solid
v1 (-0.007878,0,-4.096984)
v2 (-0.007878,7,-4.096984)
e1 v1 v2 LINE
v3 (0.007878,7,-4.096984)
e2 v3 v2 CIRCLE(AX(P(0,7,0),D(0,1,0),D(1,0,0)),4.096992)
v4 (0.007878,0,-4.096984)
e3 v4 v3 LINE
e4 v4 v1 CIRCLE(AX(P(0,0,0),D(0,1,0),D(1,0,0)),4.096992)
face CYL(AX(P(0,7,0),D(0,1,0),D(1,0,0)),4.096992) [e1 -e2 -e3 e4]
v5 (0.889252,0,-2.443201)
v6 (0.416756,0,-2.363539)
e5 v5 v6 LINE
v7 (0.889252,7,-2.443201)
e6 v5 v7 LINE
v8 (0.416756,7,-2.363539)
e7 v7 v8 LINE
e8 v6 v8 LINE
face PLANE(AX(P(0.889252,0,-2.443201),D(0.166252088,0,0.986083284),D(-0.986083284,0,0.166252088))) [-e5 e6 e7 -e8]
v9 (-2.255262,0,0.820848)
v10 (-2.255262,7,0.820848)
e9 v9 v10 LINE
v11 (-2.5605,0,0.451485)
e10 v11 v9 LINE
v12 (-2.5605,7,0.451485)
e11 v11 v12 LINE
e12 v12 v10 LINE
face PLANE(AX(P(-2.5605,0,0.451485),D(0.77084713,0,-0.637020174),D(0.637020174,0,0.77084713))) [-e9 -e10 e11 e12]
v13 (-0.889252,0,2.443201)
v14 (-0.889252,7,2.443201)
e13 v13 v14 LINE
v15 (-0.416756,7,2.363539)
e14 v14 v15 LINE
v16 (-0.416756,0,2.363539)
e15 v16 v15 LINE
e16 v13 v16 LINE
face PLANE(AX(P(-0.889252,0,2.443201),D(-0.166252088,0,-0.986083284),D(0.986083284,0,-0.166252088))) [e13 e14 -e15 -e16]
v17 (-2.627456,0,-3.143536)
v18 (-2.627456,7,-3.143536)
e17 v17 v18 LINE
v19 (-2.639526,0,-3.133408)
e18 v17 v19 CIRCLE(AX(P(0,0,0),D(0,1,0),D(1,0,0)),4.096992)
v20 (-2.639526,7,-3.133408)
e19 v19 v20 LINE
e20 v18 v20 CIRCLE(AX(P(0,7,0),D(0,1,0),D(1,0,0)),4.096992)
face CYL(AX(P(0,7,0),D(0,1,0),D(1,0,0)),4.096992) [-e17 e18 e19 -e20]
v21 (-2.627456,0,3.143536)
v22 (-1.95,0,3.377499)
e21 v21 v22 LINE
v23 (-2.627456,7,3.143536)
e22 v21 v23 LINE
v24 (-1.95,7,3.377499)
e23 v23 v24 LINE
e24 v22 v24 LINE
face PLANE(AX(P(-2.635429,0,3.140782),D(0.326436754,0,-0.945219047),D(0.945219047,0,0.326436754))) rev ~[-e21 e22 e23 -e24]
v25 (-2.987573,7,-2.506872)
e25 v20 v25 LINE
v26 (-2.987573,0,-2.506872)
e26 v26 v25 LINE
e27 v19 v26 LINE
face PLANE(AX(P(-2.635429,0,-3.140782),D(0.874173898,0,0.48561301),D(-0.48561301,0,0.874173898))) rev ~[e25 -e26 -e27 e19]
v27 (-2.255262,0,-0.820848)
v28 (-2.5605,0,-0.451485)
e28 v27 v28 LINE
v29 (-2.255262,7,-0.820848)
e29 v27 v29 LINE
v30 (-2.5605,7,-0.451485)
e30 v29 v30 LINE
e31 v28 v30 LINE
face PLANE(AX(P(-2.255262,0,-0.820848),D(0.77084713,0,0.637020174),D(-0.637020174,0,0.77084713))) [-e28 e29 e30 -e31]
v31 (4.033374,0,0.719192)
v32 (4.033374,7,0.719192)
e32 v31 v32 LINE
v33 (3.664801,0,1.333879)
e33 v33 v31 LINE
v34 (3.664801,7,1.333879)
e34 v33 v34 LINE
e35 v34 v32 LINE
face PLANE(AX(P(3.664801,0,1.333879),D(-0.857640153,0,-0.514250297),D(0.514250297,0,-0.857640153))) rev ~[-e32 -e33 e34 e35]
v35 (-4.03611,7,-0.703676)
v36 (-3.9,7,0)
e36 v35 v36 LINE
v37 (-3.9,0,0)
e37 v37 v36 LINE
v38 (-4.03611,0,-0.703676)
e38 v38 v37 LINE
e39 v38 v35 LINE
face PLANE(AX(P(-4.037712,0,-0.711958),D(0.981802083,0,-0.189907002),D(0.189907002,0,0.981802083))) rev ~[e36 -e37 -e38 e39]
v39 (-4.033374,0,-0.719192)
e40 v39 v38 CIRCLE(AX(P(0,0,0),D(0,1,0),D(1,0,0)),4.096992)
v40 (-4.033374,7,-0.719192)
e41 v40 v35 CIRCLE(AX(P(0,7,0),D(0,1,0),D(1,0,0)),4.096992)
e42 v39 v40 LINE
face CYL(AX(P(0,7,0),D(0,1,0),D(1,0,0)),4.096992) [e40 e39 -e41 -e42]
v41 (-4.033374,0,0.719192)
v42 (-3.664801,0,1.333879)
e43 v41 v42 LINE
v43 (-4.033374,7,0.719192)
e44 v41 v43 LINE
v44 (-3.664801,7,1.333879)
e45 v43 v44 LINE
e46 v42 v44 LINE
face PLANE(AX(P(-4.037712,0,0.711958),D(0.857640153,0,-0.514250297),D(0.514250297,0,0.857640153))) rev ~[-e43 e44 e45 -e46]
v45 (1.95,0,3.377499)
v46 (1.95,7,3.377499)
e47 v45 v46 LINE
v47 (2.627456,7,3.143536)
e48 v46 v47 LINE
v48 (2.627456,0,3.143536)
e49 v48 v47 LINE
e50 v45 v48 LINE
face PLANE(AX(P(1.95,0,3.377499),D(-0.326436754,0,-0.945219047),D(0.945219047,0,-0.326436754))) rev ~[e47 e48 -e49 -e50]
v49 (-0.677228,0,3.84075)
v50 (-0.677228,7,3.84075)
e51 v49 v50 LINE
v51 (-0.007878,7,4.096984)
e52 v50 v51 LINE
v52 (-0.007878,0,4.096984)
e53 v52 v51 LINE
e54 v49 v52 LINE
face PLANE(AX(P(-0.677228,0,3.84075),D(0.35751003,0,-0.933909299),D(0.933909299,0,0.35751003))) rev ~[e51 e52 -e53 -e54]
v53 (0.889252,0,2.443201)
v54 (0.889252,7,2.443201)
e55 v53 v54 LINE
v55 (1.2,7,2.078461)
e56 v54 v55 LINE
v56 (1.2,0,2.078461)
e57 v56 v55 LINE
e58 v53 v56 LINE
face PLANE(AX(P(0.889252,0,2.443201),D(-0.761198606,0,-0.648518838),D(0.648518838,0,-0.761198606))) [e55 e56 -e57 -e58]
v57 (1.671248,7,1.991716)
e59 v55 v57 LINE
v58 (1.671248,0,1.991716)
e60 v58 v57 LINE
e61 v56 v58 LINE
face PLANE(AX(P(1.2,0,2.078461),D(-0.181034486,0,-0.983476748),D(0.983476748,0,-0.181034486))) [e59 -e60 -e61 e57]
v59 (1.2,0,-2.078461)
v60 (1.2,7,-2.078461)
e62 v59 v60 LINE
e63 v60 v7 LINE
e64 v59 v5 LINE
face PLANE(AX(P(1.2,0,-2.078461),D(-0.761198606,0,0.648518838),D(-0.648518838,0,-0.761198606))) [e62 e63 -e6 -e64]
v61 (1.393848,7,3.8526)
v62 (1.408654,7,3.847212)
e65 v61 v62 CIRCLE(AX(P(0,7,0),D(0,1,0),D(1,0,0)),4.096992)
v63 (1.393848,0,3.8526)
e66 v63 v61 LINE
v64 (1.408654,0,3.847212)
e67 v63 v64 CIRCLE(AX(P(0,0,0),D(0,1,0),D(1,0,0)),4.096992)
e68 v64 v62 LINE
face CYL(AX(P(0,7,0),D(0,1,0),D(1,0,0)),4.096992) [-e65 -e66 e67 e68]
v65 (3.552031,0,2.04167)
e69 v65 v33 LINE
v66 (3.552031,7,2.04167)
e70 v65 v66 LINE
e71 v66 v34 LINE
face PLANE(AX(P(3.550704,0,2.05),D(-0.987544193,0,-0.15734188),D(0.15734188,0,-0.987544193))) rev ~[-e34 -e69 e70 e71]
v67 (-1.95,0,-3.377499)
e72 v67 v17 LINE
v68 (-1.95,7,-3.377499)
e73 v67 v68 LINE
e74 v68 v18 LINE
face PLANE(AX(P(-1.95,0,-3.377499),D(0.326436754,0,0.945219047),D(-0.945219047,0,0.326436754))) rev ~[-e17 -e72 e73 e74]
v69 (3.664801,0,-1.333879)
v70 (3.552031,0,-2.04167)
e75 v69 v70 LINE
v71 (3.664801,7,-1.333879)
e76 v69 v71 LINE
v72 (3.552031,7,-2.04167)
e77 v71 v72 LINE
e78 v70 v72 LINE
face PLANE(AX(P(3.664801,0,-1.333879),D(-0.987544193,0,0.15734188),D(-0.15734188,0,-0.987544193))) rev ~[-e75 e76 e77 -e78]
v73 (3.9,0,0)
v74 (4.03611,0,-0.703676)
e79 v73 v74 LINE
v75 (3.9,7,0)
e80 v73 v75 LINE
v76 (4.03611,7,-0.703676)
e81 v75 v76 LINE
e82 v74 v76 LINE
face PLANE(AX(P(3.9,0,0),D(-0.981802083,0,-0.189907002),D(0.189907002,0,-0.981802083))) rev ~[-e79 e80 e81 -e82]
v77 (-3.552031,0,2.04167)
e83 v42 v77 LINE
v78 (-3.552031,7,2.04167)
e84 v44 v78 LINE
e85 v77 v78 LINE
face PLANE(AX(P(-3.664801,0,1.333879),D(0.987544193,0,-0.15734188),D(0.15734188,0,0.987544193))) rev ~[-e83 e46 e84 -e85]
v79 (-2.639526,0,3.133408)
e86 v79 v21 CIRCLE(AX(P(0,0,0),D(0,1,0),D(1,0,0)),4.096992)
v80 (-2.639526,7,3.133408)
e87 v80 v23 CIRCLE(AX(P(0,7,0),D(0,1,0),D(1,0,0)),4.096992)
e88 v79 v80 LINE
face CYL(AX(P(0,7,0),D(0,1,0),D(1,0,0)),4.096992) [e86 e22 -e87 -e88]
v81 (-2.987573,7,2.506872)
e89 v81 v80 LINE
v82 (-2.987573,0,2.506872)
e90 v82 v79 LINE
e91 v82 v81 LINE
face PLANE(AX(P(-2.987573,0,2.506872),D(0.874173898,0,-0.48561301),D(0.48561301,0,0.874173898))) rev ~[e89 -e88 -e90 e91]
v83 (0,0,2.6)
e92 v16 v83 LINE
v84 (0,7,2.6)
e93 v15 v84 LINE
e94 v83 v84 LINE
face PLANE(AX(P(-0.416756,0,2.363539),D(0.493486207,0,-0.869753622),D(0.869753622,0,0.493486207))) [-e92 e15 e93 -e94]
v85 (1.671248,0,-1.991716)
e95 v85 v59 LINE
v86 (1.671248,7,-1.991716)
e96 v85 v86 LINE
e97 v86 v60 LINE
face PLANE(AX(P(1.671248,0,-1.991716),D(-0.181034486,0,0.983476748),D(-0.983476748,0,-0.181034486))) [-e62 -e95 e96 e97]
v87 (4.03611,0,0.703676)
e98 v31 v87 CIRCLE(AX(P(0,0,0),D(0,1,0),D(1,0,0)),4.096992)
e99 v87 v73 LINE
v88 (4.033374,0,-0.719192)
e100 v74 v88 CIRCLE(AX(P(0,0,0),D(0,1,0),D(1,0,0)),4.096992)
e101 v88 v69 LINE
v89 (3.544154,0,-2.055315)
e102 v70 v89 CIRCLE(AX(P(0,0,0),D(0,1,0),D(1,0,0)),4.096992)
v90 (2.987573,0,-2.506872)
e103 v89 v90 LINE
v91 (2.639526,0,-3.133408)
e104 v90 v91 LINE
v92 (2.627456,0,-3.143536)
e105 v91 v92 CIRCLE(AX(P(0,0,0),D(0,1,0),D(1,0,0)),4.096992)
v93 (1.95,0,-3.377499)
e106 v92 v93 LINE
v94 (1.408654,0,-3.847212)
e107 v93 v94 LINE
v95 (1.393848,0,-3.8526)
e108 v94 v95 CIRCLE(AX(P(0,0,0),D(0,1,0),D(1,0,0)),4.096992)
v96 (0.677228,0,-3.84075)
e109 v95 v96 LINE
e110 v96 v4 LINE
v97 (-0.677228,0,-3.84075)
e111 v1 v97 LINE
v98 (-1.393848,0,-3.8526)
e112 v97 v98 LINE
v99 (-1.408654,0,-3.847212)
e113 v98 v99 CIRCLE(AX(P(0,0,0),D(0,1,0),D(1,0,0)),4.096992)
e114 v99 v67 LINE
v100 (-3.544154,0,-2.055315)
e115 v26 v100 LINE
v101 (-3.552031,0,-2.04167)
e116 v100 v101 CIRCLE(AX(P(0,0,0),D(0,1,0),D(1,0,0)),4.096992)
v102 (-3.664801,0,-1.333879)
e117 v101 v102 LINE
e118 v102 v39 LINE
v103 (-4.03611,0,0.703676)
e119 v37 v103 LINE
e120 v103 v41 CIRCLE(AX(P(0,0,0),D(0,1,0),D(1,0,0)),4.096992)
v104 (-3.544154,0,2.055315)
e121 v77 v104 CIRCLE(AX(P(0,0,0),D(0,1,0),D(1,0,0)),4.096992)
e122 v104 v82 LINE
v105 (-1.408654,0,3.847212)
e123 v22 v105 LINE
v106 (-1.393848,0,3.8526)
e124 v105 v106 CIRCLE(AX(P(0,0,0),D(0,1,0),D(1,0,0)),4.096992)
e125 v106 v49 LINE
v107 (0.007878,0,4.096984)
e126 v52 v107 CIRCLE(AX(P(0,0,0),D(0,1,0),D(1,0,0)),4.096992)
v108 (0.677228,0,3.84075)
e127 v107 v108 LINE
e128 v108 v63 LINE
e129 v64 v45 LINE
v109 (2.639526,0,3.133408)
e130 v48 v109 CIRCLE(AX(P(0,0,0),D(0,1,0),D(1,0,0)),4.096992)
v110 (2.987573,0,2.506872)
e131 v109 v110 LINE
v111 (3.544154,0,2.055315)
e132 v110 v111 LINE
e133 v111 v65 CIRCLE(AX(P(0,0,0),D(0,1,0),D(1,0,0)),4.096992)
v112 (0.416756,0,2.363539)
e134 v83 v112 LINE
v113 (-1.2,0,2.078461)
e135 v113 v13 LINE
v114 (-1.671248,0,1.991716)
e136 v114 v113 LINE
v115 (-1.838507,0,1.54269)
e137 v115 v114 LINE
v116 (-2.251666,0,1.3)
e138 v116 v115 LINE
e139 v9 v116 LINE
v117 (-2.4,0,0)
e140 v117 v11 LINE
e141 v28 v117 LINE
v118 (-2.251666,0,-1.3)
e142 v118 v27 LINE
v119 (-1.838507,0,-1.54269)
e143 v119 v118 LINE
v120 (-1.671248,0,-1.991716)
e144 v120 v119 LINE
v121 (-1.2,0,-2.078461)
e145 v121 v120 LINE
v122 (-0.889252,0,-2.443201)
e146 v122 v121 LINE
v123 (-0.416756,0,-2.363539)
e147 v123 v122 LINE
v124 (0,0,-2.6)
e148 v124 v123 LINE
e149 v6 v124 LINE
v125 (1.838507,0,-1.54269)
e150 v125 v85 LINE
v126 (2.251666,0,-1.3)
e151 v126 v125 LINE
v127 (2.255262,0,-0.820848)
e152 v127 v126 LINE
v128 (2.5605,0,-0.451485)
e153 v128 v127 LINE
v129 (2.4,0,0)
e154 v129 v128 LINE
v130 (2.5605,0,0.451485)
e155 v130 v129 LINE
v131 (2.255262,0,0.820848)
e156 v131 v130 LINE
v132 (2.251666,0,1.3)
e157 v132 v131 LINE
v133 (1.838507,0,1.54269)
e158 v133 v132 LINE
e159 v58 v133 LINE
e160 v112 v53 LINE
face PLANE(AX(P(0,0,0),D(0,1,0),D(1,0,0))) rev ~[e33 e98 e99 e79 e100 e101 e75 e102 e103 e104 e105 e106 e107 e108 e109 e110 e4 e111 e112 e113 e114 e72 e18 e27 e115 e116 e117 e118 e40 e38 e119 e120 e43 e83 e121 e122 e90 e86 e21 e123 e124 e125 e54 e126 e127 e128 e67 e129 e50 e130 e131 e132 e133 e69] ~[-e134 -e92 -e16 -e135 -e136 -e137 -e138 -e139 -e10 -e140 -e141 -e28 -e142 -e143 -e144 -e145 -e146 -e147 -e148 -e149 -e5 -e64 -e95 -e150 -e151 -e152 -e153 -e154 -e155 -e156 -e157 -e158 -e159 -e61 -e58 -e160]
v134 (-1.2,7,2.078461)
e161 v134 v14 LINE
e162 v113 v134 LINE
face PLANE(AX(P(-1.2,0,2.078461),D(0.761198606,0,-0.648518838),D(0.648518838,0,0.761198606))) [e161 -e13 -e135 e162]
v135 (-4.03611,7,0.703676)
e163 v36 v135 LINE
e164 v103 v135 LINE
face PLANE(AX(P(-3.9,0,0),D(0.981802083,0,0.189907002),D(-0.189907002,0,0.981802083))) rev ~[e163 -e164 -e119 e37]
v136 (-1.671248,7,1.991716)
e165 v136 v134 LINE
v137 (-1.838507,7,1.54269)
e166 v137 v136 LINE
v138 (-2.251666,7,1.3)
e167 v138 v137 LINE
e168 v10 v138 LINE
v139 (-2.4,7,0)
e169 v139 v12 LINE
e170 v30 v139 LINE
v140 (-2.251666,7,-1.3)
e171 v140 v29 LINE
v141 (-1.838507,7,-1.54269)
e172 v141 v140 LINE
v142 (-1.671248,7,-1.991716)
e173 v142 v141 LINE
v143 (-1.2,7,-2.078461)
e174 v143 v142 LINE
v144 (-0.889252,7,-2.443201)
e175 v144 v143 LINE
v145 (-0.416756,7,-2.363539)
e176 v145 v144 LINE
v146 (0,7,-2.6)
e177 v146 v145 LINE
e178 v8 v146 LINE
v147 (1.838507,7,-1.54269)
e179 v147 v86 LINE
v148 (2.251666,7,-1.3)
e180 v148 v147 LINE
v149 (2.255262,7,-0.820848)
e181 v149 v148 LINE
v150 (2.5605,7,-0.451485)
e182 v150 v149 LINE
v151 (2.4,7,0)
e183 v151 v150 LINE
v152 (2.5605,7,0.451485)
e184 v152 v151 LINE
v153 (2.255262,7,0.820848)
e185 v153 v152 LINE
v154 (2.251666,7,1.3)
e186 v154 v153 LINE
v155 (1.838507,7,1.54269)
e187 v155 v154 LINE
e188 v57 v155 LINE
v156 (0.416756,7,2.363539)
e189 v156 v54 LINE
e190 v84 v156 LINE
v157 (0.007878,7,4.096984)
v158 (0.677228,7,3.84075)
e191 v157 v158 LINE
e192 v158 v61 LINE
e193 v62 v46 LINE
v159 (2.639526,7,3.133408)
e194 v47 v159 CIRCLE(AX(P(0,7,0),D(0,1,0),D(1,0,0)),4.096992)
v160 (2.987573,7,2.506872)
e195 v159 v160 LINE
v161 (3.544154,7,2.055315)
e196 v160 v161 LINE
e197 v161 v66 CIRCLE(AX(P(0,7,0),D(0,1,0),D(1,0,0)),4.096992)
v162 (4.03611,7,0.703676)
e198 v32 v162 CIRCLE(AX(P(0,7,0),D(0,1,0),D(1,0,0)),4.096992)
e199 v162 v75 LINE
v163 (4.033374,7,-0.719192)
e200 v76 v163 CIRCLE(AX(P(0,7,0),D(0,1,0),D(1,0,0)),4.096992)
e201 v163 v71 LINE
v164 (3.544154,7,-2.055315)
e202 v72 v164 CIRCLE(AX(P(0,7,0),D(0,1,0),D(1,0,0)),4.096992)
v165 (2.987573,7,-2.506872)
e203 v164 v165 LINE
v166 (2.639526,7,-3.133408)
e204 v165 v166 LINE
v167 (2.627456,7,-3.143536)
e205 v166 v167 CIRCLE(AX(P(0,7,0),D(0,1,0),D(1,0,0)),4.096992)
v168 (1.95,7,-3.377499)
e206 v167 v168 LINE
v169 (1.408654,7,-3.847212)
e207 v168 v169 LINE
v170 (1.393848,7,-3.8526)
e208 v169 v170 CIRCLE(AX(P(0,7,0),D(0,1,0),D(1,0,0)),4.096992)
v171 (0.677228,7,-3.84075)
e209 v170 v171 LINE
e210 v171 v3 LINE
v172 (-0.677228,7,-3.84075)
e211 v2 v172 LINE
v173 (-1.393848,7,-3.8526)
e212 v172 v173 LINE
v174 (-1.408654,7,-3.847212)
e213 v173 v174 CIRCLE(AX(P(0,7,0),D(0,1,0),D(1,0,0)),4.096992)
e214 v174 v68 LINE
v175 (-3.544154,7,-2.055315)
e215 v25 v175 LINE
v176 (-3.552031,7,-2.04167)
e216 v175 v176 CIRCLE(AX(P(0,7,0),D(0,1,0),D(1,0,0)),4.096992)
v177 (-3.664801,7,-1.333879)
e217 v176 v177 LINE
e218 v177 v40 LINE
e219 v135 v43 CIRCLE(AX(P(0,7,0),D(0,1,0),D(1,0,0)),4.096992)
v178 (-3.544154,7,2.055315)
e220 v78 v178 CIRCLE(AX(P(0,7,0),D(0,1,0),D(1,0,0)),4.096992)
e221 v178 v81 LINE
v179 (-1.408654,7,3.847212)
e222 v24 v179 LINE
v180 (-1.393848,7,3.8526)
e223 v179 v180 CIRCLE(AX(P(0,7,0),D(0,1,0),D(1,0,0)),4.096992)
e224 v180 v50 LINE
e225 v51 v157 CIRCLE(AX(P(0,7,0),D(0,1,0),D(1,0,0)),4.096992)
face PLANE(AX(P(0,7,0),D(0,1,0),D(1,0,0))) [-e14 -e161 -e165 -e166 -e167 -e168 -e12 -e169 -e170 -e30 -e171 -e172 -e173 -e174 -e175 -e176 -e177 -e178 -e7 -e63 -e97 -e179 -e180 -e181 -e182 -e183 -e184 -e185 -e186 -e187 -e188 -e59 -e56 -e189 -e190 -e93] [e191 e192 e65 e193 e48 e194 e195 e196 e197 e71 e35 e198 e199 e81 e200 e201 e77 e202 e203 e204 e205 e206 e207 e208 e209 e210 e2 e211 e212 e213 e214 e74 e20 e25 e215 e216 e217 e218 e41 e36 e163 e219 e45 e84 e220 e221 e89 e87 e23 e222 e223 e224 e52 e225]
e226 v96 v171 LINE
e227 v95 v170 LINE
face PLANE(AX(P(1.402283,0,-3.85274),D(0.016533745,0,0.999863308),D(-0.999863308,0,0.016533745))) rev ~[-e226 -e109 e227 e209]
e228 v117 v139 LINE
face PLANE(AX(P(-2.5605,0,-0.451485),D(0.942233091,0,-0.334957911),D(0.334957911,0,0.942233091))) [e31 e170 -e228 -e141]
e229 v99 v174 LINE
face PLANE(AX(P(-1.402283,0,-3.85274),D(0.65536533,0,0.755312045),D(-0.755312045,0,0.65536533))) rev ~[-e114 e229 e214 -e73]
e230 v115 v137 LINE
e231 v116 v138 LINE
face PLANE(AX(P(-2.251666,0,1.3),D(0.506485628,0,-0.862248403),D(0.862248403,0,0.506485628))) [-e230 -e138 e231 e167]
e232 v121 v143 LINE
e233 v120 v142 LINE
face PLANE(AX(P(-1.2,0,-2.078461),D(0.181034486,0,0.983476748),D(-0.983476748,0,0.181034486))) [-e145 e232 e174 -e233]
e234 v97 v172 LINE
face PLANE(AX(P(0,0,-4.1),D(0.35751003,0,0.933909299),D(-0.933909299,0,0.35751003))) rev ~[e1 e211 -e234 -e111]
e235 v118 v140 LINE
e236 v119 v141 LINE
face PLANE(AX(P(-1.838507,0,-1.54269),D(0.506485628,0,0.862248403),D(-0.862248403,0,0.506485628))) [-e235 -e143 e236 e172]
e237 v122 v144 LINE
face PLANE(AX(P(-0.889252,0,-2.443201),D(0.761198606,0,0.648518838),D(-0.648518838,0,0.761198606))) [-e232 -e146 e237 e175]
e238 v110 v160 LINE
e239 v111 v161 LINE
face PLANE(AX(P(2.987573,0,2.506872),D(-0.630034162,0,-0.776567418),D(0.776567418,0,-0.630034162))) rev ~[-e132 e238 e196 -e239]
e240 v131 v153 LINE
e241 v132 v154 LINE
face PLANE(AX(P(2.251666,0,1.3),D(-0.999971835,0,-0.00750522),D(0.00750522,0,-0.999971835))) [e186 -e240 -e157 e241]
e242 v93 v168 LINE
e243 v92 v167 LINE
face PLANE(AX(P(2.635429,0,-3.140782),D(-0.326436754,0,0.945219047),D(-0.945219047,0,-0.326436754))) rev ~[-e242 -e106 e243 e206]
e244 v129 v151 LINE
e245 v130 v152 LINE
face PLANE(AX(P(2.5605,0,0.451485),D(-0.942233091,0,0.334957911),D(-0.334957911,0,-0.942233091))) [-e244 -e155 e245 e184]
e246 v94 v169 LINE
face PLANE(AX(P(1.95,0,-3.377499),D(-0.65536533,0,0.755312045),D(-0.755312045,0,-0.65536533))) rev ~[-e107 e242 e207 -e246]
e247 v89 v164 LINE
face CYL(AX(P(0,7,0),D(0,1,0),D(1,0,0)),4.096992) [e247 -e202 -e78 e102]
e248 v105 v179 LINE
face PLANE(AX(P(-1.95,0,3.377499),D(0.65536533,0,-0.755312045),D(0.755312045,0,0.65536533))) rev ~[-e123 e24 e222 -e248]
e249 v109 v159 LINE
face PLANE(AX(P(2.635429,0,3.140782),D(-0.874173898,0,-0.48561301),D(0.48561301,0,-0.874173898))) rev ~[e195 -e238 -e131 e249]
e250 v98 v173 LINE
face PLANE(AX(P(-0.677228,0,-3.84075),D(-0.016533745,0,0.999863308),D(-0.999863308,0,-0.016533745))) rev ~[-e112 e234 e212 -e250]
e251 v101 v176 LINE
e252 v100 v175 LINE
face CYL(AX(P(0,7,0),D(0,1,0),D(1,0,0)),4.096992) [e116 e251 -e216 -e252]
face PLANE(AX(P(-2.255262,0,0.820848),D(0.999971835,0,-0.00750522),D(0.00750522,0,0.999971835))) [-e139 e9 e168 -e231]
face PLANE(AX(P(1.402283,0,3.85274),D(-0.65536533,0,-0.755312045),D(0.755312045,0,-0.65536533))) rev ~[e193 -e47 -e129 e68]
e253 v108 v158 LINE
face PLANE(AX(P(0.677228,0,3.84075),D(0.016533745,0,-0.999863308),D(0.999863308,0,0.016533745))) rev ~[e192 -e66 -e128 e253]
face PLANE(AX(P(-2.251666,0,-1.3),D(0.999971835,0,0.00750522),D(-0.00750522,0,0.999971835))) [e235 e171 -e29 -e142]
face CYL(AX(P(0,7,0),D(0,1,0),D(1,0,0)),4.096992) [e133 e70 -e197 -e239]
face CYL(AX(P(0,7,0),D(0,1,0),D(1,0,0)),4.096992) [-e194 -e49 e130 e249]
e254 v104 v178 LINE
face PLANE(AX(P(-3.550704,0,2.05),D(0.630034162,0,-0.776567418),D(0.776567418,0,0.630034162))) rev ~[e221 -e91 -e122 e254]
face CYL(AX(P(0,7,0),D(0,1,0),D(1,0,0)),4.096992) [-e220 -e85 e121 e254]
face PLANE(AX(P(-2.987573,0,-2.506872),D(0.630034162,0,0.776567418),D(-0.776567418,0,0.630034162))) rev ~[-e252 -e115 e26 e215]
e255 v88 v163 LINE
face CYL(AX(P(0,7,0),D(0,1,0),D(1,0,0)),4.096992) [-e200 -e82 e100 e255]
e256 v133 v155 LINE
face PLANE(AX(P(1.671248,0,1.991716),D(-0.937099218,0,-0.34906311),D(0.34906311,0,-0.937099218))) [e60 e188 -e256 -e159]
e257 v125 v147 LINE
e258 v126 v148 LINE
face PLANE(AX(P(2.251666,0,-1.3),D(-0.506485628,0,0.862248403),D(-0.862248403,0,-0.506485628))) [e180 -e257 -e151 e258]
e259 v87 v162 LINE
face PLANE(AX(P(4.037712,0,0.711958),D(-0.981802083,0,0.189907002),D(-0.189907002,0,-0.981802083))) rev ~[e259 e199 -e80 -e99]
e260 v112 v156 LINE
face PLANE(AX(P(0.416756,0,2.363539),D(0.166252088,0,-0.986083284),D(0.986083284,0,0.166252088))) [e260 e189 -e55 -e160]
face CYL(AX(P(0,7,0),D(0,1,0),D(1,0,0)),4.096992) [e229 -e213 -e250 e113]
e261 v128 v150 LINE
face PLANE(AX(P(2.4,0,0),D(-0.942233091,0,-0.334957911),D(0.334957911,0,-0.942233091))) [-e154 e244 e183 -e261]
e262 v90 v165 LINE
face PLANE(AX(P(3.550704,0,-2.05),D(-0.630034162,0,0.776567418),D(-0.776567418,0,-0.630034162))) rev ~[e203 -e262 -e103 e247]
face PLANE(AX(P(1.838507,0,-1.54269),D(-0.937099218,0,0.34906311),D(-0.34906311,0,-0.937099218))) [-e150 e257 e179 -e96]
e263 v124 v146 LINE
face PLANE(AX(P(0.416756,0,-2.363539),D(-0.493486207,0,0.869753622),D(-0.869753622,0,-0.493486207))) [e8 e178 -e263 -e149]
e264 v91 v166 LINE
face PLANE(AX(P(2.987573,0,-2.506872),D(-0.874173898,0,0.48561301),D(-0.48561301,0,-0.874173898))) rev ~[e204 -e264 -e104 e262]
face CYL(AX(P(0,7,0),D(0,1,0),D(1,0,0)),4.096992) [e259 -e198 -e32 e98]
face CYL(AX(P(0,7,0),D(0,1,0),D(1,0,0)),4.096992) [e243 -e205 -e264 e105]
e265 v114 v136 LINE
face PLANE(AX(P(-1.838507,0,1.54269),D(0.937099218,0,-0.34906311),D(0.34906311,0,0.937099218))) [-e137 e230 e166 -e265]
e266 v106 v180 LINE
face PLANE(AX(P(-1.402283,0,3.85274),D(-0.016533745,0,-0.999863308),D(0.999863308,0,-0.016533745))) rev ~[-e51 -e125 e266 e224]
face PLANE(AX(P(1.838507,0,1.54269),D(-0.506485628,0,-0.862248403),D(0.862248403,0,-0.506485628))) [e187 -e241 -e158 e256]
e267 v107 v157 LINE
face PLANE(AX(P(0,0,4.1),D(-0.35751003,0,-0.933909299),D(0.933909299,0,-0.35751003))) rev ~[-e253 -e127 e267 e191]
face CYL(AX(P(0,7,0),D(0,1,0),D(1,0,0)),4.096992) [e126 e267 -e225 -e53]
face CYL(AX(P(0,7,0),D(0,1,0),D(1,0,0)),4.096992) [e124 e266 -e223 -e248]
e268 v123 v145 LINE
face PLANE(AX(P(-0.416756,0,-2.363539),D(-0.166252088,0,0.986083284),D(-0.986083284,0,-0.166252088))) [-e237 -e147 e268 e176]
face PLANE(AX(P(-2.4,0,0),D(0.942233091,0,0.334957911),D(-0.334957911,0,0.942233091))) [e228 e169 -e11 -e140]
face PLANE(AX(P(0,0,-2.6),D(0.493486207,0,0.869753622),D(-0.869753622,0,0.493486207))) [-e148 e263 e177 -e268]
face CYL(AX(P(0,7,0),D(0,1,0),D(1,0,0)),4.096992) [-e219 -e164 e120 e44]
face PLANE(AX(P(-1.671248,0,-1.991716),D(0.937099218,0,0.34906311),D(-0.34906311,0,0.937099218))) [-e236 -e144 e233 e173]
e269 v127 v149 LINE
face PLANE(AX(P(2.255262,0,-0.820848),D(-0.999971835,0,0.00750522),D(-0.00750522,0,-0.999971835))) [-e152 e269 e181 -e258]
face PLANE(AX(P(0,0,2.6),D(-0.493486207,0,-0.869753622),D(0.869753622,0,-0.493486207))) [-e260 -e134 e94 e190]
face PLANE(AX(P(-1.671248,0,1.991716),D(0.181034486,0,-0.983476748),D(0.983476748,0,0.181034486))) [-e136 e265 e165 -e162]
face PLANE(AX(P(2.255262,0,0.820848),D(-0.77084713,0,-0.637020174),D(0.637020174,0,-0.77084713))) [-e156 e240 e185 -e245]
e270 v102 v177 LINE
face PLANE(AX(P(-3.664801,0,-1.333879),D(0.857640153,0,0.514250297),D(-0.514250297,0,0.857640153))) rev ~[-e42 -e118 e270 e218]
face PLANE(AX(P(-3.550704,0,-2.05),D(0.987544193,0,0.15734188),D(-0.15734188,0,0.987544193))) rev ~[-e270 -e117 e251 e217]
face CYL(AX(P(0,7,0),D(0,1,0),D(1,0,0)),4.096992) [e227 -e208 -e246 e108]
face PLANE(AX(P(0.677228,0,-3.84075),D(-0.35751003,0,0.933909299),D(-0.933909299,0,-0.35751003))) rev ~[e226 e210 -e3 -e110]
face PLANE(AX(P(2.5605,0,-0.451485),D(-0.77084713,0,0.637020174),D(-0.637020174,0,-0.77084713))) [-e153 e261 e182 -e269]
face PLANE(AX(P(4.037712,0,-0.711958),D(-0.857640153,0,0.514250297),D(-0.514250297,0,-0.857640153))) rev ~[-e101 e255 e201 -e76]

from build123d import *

# Parameters (mm, degrees)
BOSS_EXTRUDE1_DEPTH = 7
SKETCH2_R           = 5.515074568
SKETCH2_R_2         = 4.096991853
CUT_EXTRUDE1_DEPTH  = 10


with BuildPart() as part:
    # Sketch1 → Boss-Extrude1 (new body)
    with BuildSketch(Plane(origin=(0, 0, 0), x_dir=(1, 0, 0), z_dir=(0, 1, 0))):
        Polygon((0, 4.1), (-0.677227893, 3.840750237), (-1.402282588, 3.852739745), (-1.95, 3.377499075), (-2.6354292, 3.140782217), (-2.987573328, 2.506871678), (-3.550704156, 2.05), (-3.664801221, 1.333878559), (-4.037711787, 0.711957528), (-3.9, 0), (-4.037711787, -0.711957528), (-3.664801221, -1.333878559), (-3.550704156, -2.05), (-2.987573328, -2.506871678), (-2.6354292, -3.140782217), (-1.95, -3.377499075), (-1.402282588, -3.852739745), (-0.677227893, -3.840750237), (0, -4.1), (0.677227893, -3.840750237), (1.402282588, -3.852739745), (1.95, -3.377499075), (2.6354292, -3.140782217), (2.987573328, -2.506871678), (3.550704156, -2.05), (3.664801221, -1.333878559), (4.037711787, -0.711957528), (3.9, 0), (4.037711787, 0.711957528), (3.664801221, 1.333878559), (3.550704156, 2.05), (2.987573328, 2.506871678), (2.6354292, 3.140782217), (1.95, 3.377499075), (1.402282588, 3.852739745), (0.677227893, 3.840750237), align=None)
        Polygon((0, 2.6), (-0.416755626, 2.363538607), (-0.889252373, 2.443200814), (-1.2, 2.078460969), (-1.671247785, 1.991715552), (-1.838506663, 1.542690263), (-2.25166605, 1.3), (-2.25526229, 0.820848344), (-2.560500158, 0.451485262), (-2.4, 0), (-2.560500158, -0.451485262), (-2.25526229, -0.820848344), (-2.25166605, -1.3), (-1.838506663, -1.542690263), (-1.671247785, -1.991715552), (-1.2, -2.078460969), (-0.889252373, -2.443200814), (-0.416755626, -2.363538607), (0, -2.6), (0.416755626, -2.363538607), (0.889252373, -2.443200814), (1.2, -2.078460969), (1.671247785, -1.991715552), (1.838506663, -1.542690263), (2.25166605, -1.3), (2.25526229, -0.820848344), (2.560500158, -0.451485262), (2.4, 0), (2.560500158, 0.451485262), (2.25526229, 0.820848344), (2.25166605, 1.3), (1.838506663, 1.542690263), (1.671247785, 1.991715552), (1.2, 2.078460969), (0.889252373, 2.443200814), (0.416755626, 2.363538607), align=None, mode=Mode.SUBTRACT)
    extrude(amount=BOSS_EXTRUDE1_DEPTH)

    # Sketch2 → Cut-Extrude1 (cut)
    with BuildSketch(Plane(origin=(0, 7, 0), x_dir=(1, 0, 0), z_dir=(0, 1, 0))):
        Circle(SKETCH2_R)
        Circle(SKETCH2_R_2, mode=Mode.SUBTRACT)
    extrude(amount=-CUT_EXTRUDE1_DEPTH, mode=Mode.SUBTRACT)


solid = part.part
